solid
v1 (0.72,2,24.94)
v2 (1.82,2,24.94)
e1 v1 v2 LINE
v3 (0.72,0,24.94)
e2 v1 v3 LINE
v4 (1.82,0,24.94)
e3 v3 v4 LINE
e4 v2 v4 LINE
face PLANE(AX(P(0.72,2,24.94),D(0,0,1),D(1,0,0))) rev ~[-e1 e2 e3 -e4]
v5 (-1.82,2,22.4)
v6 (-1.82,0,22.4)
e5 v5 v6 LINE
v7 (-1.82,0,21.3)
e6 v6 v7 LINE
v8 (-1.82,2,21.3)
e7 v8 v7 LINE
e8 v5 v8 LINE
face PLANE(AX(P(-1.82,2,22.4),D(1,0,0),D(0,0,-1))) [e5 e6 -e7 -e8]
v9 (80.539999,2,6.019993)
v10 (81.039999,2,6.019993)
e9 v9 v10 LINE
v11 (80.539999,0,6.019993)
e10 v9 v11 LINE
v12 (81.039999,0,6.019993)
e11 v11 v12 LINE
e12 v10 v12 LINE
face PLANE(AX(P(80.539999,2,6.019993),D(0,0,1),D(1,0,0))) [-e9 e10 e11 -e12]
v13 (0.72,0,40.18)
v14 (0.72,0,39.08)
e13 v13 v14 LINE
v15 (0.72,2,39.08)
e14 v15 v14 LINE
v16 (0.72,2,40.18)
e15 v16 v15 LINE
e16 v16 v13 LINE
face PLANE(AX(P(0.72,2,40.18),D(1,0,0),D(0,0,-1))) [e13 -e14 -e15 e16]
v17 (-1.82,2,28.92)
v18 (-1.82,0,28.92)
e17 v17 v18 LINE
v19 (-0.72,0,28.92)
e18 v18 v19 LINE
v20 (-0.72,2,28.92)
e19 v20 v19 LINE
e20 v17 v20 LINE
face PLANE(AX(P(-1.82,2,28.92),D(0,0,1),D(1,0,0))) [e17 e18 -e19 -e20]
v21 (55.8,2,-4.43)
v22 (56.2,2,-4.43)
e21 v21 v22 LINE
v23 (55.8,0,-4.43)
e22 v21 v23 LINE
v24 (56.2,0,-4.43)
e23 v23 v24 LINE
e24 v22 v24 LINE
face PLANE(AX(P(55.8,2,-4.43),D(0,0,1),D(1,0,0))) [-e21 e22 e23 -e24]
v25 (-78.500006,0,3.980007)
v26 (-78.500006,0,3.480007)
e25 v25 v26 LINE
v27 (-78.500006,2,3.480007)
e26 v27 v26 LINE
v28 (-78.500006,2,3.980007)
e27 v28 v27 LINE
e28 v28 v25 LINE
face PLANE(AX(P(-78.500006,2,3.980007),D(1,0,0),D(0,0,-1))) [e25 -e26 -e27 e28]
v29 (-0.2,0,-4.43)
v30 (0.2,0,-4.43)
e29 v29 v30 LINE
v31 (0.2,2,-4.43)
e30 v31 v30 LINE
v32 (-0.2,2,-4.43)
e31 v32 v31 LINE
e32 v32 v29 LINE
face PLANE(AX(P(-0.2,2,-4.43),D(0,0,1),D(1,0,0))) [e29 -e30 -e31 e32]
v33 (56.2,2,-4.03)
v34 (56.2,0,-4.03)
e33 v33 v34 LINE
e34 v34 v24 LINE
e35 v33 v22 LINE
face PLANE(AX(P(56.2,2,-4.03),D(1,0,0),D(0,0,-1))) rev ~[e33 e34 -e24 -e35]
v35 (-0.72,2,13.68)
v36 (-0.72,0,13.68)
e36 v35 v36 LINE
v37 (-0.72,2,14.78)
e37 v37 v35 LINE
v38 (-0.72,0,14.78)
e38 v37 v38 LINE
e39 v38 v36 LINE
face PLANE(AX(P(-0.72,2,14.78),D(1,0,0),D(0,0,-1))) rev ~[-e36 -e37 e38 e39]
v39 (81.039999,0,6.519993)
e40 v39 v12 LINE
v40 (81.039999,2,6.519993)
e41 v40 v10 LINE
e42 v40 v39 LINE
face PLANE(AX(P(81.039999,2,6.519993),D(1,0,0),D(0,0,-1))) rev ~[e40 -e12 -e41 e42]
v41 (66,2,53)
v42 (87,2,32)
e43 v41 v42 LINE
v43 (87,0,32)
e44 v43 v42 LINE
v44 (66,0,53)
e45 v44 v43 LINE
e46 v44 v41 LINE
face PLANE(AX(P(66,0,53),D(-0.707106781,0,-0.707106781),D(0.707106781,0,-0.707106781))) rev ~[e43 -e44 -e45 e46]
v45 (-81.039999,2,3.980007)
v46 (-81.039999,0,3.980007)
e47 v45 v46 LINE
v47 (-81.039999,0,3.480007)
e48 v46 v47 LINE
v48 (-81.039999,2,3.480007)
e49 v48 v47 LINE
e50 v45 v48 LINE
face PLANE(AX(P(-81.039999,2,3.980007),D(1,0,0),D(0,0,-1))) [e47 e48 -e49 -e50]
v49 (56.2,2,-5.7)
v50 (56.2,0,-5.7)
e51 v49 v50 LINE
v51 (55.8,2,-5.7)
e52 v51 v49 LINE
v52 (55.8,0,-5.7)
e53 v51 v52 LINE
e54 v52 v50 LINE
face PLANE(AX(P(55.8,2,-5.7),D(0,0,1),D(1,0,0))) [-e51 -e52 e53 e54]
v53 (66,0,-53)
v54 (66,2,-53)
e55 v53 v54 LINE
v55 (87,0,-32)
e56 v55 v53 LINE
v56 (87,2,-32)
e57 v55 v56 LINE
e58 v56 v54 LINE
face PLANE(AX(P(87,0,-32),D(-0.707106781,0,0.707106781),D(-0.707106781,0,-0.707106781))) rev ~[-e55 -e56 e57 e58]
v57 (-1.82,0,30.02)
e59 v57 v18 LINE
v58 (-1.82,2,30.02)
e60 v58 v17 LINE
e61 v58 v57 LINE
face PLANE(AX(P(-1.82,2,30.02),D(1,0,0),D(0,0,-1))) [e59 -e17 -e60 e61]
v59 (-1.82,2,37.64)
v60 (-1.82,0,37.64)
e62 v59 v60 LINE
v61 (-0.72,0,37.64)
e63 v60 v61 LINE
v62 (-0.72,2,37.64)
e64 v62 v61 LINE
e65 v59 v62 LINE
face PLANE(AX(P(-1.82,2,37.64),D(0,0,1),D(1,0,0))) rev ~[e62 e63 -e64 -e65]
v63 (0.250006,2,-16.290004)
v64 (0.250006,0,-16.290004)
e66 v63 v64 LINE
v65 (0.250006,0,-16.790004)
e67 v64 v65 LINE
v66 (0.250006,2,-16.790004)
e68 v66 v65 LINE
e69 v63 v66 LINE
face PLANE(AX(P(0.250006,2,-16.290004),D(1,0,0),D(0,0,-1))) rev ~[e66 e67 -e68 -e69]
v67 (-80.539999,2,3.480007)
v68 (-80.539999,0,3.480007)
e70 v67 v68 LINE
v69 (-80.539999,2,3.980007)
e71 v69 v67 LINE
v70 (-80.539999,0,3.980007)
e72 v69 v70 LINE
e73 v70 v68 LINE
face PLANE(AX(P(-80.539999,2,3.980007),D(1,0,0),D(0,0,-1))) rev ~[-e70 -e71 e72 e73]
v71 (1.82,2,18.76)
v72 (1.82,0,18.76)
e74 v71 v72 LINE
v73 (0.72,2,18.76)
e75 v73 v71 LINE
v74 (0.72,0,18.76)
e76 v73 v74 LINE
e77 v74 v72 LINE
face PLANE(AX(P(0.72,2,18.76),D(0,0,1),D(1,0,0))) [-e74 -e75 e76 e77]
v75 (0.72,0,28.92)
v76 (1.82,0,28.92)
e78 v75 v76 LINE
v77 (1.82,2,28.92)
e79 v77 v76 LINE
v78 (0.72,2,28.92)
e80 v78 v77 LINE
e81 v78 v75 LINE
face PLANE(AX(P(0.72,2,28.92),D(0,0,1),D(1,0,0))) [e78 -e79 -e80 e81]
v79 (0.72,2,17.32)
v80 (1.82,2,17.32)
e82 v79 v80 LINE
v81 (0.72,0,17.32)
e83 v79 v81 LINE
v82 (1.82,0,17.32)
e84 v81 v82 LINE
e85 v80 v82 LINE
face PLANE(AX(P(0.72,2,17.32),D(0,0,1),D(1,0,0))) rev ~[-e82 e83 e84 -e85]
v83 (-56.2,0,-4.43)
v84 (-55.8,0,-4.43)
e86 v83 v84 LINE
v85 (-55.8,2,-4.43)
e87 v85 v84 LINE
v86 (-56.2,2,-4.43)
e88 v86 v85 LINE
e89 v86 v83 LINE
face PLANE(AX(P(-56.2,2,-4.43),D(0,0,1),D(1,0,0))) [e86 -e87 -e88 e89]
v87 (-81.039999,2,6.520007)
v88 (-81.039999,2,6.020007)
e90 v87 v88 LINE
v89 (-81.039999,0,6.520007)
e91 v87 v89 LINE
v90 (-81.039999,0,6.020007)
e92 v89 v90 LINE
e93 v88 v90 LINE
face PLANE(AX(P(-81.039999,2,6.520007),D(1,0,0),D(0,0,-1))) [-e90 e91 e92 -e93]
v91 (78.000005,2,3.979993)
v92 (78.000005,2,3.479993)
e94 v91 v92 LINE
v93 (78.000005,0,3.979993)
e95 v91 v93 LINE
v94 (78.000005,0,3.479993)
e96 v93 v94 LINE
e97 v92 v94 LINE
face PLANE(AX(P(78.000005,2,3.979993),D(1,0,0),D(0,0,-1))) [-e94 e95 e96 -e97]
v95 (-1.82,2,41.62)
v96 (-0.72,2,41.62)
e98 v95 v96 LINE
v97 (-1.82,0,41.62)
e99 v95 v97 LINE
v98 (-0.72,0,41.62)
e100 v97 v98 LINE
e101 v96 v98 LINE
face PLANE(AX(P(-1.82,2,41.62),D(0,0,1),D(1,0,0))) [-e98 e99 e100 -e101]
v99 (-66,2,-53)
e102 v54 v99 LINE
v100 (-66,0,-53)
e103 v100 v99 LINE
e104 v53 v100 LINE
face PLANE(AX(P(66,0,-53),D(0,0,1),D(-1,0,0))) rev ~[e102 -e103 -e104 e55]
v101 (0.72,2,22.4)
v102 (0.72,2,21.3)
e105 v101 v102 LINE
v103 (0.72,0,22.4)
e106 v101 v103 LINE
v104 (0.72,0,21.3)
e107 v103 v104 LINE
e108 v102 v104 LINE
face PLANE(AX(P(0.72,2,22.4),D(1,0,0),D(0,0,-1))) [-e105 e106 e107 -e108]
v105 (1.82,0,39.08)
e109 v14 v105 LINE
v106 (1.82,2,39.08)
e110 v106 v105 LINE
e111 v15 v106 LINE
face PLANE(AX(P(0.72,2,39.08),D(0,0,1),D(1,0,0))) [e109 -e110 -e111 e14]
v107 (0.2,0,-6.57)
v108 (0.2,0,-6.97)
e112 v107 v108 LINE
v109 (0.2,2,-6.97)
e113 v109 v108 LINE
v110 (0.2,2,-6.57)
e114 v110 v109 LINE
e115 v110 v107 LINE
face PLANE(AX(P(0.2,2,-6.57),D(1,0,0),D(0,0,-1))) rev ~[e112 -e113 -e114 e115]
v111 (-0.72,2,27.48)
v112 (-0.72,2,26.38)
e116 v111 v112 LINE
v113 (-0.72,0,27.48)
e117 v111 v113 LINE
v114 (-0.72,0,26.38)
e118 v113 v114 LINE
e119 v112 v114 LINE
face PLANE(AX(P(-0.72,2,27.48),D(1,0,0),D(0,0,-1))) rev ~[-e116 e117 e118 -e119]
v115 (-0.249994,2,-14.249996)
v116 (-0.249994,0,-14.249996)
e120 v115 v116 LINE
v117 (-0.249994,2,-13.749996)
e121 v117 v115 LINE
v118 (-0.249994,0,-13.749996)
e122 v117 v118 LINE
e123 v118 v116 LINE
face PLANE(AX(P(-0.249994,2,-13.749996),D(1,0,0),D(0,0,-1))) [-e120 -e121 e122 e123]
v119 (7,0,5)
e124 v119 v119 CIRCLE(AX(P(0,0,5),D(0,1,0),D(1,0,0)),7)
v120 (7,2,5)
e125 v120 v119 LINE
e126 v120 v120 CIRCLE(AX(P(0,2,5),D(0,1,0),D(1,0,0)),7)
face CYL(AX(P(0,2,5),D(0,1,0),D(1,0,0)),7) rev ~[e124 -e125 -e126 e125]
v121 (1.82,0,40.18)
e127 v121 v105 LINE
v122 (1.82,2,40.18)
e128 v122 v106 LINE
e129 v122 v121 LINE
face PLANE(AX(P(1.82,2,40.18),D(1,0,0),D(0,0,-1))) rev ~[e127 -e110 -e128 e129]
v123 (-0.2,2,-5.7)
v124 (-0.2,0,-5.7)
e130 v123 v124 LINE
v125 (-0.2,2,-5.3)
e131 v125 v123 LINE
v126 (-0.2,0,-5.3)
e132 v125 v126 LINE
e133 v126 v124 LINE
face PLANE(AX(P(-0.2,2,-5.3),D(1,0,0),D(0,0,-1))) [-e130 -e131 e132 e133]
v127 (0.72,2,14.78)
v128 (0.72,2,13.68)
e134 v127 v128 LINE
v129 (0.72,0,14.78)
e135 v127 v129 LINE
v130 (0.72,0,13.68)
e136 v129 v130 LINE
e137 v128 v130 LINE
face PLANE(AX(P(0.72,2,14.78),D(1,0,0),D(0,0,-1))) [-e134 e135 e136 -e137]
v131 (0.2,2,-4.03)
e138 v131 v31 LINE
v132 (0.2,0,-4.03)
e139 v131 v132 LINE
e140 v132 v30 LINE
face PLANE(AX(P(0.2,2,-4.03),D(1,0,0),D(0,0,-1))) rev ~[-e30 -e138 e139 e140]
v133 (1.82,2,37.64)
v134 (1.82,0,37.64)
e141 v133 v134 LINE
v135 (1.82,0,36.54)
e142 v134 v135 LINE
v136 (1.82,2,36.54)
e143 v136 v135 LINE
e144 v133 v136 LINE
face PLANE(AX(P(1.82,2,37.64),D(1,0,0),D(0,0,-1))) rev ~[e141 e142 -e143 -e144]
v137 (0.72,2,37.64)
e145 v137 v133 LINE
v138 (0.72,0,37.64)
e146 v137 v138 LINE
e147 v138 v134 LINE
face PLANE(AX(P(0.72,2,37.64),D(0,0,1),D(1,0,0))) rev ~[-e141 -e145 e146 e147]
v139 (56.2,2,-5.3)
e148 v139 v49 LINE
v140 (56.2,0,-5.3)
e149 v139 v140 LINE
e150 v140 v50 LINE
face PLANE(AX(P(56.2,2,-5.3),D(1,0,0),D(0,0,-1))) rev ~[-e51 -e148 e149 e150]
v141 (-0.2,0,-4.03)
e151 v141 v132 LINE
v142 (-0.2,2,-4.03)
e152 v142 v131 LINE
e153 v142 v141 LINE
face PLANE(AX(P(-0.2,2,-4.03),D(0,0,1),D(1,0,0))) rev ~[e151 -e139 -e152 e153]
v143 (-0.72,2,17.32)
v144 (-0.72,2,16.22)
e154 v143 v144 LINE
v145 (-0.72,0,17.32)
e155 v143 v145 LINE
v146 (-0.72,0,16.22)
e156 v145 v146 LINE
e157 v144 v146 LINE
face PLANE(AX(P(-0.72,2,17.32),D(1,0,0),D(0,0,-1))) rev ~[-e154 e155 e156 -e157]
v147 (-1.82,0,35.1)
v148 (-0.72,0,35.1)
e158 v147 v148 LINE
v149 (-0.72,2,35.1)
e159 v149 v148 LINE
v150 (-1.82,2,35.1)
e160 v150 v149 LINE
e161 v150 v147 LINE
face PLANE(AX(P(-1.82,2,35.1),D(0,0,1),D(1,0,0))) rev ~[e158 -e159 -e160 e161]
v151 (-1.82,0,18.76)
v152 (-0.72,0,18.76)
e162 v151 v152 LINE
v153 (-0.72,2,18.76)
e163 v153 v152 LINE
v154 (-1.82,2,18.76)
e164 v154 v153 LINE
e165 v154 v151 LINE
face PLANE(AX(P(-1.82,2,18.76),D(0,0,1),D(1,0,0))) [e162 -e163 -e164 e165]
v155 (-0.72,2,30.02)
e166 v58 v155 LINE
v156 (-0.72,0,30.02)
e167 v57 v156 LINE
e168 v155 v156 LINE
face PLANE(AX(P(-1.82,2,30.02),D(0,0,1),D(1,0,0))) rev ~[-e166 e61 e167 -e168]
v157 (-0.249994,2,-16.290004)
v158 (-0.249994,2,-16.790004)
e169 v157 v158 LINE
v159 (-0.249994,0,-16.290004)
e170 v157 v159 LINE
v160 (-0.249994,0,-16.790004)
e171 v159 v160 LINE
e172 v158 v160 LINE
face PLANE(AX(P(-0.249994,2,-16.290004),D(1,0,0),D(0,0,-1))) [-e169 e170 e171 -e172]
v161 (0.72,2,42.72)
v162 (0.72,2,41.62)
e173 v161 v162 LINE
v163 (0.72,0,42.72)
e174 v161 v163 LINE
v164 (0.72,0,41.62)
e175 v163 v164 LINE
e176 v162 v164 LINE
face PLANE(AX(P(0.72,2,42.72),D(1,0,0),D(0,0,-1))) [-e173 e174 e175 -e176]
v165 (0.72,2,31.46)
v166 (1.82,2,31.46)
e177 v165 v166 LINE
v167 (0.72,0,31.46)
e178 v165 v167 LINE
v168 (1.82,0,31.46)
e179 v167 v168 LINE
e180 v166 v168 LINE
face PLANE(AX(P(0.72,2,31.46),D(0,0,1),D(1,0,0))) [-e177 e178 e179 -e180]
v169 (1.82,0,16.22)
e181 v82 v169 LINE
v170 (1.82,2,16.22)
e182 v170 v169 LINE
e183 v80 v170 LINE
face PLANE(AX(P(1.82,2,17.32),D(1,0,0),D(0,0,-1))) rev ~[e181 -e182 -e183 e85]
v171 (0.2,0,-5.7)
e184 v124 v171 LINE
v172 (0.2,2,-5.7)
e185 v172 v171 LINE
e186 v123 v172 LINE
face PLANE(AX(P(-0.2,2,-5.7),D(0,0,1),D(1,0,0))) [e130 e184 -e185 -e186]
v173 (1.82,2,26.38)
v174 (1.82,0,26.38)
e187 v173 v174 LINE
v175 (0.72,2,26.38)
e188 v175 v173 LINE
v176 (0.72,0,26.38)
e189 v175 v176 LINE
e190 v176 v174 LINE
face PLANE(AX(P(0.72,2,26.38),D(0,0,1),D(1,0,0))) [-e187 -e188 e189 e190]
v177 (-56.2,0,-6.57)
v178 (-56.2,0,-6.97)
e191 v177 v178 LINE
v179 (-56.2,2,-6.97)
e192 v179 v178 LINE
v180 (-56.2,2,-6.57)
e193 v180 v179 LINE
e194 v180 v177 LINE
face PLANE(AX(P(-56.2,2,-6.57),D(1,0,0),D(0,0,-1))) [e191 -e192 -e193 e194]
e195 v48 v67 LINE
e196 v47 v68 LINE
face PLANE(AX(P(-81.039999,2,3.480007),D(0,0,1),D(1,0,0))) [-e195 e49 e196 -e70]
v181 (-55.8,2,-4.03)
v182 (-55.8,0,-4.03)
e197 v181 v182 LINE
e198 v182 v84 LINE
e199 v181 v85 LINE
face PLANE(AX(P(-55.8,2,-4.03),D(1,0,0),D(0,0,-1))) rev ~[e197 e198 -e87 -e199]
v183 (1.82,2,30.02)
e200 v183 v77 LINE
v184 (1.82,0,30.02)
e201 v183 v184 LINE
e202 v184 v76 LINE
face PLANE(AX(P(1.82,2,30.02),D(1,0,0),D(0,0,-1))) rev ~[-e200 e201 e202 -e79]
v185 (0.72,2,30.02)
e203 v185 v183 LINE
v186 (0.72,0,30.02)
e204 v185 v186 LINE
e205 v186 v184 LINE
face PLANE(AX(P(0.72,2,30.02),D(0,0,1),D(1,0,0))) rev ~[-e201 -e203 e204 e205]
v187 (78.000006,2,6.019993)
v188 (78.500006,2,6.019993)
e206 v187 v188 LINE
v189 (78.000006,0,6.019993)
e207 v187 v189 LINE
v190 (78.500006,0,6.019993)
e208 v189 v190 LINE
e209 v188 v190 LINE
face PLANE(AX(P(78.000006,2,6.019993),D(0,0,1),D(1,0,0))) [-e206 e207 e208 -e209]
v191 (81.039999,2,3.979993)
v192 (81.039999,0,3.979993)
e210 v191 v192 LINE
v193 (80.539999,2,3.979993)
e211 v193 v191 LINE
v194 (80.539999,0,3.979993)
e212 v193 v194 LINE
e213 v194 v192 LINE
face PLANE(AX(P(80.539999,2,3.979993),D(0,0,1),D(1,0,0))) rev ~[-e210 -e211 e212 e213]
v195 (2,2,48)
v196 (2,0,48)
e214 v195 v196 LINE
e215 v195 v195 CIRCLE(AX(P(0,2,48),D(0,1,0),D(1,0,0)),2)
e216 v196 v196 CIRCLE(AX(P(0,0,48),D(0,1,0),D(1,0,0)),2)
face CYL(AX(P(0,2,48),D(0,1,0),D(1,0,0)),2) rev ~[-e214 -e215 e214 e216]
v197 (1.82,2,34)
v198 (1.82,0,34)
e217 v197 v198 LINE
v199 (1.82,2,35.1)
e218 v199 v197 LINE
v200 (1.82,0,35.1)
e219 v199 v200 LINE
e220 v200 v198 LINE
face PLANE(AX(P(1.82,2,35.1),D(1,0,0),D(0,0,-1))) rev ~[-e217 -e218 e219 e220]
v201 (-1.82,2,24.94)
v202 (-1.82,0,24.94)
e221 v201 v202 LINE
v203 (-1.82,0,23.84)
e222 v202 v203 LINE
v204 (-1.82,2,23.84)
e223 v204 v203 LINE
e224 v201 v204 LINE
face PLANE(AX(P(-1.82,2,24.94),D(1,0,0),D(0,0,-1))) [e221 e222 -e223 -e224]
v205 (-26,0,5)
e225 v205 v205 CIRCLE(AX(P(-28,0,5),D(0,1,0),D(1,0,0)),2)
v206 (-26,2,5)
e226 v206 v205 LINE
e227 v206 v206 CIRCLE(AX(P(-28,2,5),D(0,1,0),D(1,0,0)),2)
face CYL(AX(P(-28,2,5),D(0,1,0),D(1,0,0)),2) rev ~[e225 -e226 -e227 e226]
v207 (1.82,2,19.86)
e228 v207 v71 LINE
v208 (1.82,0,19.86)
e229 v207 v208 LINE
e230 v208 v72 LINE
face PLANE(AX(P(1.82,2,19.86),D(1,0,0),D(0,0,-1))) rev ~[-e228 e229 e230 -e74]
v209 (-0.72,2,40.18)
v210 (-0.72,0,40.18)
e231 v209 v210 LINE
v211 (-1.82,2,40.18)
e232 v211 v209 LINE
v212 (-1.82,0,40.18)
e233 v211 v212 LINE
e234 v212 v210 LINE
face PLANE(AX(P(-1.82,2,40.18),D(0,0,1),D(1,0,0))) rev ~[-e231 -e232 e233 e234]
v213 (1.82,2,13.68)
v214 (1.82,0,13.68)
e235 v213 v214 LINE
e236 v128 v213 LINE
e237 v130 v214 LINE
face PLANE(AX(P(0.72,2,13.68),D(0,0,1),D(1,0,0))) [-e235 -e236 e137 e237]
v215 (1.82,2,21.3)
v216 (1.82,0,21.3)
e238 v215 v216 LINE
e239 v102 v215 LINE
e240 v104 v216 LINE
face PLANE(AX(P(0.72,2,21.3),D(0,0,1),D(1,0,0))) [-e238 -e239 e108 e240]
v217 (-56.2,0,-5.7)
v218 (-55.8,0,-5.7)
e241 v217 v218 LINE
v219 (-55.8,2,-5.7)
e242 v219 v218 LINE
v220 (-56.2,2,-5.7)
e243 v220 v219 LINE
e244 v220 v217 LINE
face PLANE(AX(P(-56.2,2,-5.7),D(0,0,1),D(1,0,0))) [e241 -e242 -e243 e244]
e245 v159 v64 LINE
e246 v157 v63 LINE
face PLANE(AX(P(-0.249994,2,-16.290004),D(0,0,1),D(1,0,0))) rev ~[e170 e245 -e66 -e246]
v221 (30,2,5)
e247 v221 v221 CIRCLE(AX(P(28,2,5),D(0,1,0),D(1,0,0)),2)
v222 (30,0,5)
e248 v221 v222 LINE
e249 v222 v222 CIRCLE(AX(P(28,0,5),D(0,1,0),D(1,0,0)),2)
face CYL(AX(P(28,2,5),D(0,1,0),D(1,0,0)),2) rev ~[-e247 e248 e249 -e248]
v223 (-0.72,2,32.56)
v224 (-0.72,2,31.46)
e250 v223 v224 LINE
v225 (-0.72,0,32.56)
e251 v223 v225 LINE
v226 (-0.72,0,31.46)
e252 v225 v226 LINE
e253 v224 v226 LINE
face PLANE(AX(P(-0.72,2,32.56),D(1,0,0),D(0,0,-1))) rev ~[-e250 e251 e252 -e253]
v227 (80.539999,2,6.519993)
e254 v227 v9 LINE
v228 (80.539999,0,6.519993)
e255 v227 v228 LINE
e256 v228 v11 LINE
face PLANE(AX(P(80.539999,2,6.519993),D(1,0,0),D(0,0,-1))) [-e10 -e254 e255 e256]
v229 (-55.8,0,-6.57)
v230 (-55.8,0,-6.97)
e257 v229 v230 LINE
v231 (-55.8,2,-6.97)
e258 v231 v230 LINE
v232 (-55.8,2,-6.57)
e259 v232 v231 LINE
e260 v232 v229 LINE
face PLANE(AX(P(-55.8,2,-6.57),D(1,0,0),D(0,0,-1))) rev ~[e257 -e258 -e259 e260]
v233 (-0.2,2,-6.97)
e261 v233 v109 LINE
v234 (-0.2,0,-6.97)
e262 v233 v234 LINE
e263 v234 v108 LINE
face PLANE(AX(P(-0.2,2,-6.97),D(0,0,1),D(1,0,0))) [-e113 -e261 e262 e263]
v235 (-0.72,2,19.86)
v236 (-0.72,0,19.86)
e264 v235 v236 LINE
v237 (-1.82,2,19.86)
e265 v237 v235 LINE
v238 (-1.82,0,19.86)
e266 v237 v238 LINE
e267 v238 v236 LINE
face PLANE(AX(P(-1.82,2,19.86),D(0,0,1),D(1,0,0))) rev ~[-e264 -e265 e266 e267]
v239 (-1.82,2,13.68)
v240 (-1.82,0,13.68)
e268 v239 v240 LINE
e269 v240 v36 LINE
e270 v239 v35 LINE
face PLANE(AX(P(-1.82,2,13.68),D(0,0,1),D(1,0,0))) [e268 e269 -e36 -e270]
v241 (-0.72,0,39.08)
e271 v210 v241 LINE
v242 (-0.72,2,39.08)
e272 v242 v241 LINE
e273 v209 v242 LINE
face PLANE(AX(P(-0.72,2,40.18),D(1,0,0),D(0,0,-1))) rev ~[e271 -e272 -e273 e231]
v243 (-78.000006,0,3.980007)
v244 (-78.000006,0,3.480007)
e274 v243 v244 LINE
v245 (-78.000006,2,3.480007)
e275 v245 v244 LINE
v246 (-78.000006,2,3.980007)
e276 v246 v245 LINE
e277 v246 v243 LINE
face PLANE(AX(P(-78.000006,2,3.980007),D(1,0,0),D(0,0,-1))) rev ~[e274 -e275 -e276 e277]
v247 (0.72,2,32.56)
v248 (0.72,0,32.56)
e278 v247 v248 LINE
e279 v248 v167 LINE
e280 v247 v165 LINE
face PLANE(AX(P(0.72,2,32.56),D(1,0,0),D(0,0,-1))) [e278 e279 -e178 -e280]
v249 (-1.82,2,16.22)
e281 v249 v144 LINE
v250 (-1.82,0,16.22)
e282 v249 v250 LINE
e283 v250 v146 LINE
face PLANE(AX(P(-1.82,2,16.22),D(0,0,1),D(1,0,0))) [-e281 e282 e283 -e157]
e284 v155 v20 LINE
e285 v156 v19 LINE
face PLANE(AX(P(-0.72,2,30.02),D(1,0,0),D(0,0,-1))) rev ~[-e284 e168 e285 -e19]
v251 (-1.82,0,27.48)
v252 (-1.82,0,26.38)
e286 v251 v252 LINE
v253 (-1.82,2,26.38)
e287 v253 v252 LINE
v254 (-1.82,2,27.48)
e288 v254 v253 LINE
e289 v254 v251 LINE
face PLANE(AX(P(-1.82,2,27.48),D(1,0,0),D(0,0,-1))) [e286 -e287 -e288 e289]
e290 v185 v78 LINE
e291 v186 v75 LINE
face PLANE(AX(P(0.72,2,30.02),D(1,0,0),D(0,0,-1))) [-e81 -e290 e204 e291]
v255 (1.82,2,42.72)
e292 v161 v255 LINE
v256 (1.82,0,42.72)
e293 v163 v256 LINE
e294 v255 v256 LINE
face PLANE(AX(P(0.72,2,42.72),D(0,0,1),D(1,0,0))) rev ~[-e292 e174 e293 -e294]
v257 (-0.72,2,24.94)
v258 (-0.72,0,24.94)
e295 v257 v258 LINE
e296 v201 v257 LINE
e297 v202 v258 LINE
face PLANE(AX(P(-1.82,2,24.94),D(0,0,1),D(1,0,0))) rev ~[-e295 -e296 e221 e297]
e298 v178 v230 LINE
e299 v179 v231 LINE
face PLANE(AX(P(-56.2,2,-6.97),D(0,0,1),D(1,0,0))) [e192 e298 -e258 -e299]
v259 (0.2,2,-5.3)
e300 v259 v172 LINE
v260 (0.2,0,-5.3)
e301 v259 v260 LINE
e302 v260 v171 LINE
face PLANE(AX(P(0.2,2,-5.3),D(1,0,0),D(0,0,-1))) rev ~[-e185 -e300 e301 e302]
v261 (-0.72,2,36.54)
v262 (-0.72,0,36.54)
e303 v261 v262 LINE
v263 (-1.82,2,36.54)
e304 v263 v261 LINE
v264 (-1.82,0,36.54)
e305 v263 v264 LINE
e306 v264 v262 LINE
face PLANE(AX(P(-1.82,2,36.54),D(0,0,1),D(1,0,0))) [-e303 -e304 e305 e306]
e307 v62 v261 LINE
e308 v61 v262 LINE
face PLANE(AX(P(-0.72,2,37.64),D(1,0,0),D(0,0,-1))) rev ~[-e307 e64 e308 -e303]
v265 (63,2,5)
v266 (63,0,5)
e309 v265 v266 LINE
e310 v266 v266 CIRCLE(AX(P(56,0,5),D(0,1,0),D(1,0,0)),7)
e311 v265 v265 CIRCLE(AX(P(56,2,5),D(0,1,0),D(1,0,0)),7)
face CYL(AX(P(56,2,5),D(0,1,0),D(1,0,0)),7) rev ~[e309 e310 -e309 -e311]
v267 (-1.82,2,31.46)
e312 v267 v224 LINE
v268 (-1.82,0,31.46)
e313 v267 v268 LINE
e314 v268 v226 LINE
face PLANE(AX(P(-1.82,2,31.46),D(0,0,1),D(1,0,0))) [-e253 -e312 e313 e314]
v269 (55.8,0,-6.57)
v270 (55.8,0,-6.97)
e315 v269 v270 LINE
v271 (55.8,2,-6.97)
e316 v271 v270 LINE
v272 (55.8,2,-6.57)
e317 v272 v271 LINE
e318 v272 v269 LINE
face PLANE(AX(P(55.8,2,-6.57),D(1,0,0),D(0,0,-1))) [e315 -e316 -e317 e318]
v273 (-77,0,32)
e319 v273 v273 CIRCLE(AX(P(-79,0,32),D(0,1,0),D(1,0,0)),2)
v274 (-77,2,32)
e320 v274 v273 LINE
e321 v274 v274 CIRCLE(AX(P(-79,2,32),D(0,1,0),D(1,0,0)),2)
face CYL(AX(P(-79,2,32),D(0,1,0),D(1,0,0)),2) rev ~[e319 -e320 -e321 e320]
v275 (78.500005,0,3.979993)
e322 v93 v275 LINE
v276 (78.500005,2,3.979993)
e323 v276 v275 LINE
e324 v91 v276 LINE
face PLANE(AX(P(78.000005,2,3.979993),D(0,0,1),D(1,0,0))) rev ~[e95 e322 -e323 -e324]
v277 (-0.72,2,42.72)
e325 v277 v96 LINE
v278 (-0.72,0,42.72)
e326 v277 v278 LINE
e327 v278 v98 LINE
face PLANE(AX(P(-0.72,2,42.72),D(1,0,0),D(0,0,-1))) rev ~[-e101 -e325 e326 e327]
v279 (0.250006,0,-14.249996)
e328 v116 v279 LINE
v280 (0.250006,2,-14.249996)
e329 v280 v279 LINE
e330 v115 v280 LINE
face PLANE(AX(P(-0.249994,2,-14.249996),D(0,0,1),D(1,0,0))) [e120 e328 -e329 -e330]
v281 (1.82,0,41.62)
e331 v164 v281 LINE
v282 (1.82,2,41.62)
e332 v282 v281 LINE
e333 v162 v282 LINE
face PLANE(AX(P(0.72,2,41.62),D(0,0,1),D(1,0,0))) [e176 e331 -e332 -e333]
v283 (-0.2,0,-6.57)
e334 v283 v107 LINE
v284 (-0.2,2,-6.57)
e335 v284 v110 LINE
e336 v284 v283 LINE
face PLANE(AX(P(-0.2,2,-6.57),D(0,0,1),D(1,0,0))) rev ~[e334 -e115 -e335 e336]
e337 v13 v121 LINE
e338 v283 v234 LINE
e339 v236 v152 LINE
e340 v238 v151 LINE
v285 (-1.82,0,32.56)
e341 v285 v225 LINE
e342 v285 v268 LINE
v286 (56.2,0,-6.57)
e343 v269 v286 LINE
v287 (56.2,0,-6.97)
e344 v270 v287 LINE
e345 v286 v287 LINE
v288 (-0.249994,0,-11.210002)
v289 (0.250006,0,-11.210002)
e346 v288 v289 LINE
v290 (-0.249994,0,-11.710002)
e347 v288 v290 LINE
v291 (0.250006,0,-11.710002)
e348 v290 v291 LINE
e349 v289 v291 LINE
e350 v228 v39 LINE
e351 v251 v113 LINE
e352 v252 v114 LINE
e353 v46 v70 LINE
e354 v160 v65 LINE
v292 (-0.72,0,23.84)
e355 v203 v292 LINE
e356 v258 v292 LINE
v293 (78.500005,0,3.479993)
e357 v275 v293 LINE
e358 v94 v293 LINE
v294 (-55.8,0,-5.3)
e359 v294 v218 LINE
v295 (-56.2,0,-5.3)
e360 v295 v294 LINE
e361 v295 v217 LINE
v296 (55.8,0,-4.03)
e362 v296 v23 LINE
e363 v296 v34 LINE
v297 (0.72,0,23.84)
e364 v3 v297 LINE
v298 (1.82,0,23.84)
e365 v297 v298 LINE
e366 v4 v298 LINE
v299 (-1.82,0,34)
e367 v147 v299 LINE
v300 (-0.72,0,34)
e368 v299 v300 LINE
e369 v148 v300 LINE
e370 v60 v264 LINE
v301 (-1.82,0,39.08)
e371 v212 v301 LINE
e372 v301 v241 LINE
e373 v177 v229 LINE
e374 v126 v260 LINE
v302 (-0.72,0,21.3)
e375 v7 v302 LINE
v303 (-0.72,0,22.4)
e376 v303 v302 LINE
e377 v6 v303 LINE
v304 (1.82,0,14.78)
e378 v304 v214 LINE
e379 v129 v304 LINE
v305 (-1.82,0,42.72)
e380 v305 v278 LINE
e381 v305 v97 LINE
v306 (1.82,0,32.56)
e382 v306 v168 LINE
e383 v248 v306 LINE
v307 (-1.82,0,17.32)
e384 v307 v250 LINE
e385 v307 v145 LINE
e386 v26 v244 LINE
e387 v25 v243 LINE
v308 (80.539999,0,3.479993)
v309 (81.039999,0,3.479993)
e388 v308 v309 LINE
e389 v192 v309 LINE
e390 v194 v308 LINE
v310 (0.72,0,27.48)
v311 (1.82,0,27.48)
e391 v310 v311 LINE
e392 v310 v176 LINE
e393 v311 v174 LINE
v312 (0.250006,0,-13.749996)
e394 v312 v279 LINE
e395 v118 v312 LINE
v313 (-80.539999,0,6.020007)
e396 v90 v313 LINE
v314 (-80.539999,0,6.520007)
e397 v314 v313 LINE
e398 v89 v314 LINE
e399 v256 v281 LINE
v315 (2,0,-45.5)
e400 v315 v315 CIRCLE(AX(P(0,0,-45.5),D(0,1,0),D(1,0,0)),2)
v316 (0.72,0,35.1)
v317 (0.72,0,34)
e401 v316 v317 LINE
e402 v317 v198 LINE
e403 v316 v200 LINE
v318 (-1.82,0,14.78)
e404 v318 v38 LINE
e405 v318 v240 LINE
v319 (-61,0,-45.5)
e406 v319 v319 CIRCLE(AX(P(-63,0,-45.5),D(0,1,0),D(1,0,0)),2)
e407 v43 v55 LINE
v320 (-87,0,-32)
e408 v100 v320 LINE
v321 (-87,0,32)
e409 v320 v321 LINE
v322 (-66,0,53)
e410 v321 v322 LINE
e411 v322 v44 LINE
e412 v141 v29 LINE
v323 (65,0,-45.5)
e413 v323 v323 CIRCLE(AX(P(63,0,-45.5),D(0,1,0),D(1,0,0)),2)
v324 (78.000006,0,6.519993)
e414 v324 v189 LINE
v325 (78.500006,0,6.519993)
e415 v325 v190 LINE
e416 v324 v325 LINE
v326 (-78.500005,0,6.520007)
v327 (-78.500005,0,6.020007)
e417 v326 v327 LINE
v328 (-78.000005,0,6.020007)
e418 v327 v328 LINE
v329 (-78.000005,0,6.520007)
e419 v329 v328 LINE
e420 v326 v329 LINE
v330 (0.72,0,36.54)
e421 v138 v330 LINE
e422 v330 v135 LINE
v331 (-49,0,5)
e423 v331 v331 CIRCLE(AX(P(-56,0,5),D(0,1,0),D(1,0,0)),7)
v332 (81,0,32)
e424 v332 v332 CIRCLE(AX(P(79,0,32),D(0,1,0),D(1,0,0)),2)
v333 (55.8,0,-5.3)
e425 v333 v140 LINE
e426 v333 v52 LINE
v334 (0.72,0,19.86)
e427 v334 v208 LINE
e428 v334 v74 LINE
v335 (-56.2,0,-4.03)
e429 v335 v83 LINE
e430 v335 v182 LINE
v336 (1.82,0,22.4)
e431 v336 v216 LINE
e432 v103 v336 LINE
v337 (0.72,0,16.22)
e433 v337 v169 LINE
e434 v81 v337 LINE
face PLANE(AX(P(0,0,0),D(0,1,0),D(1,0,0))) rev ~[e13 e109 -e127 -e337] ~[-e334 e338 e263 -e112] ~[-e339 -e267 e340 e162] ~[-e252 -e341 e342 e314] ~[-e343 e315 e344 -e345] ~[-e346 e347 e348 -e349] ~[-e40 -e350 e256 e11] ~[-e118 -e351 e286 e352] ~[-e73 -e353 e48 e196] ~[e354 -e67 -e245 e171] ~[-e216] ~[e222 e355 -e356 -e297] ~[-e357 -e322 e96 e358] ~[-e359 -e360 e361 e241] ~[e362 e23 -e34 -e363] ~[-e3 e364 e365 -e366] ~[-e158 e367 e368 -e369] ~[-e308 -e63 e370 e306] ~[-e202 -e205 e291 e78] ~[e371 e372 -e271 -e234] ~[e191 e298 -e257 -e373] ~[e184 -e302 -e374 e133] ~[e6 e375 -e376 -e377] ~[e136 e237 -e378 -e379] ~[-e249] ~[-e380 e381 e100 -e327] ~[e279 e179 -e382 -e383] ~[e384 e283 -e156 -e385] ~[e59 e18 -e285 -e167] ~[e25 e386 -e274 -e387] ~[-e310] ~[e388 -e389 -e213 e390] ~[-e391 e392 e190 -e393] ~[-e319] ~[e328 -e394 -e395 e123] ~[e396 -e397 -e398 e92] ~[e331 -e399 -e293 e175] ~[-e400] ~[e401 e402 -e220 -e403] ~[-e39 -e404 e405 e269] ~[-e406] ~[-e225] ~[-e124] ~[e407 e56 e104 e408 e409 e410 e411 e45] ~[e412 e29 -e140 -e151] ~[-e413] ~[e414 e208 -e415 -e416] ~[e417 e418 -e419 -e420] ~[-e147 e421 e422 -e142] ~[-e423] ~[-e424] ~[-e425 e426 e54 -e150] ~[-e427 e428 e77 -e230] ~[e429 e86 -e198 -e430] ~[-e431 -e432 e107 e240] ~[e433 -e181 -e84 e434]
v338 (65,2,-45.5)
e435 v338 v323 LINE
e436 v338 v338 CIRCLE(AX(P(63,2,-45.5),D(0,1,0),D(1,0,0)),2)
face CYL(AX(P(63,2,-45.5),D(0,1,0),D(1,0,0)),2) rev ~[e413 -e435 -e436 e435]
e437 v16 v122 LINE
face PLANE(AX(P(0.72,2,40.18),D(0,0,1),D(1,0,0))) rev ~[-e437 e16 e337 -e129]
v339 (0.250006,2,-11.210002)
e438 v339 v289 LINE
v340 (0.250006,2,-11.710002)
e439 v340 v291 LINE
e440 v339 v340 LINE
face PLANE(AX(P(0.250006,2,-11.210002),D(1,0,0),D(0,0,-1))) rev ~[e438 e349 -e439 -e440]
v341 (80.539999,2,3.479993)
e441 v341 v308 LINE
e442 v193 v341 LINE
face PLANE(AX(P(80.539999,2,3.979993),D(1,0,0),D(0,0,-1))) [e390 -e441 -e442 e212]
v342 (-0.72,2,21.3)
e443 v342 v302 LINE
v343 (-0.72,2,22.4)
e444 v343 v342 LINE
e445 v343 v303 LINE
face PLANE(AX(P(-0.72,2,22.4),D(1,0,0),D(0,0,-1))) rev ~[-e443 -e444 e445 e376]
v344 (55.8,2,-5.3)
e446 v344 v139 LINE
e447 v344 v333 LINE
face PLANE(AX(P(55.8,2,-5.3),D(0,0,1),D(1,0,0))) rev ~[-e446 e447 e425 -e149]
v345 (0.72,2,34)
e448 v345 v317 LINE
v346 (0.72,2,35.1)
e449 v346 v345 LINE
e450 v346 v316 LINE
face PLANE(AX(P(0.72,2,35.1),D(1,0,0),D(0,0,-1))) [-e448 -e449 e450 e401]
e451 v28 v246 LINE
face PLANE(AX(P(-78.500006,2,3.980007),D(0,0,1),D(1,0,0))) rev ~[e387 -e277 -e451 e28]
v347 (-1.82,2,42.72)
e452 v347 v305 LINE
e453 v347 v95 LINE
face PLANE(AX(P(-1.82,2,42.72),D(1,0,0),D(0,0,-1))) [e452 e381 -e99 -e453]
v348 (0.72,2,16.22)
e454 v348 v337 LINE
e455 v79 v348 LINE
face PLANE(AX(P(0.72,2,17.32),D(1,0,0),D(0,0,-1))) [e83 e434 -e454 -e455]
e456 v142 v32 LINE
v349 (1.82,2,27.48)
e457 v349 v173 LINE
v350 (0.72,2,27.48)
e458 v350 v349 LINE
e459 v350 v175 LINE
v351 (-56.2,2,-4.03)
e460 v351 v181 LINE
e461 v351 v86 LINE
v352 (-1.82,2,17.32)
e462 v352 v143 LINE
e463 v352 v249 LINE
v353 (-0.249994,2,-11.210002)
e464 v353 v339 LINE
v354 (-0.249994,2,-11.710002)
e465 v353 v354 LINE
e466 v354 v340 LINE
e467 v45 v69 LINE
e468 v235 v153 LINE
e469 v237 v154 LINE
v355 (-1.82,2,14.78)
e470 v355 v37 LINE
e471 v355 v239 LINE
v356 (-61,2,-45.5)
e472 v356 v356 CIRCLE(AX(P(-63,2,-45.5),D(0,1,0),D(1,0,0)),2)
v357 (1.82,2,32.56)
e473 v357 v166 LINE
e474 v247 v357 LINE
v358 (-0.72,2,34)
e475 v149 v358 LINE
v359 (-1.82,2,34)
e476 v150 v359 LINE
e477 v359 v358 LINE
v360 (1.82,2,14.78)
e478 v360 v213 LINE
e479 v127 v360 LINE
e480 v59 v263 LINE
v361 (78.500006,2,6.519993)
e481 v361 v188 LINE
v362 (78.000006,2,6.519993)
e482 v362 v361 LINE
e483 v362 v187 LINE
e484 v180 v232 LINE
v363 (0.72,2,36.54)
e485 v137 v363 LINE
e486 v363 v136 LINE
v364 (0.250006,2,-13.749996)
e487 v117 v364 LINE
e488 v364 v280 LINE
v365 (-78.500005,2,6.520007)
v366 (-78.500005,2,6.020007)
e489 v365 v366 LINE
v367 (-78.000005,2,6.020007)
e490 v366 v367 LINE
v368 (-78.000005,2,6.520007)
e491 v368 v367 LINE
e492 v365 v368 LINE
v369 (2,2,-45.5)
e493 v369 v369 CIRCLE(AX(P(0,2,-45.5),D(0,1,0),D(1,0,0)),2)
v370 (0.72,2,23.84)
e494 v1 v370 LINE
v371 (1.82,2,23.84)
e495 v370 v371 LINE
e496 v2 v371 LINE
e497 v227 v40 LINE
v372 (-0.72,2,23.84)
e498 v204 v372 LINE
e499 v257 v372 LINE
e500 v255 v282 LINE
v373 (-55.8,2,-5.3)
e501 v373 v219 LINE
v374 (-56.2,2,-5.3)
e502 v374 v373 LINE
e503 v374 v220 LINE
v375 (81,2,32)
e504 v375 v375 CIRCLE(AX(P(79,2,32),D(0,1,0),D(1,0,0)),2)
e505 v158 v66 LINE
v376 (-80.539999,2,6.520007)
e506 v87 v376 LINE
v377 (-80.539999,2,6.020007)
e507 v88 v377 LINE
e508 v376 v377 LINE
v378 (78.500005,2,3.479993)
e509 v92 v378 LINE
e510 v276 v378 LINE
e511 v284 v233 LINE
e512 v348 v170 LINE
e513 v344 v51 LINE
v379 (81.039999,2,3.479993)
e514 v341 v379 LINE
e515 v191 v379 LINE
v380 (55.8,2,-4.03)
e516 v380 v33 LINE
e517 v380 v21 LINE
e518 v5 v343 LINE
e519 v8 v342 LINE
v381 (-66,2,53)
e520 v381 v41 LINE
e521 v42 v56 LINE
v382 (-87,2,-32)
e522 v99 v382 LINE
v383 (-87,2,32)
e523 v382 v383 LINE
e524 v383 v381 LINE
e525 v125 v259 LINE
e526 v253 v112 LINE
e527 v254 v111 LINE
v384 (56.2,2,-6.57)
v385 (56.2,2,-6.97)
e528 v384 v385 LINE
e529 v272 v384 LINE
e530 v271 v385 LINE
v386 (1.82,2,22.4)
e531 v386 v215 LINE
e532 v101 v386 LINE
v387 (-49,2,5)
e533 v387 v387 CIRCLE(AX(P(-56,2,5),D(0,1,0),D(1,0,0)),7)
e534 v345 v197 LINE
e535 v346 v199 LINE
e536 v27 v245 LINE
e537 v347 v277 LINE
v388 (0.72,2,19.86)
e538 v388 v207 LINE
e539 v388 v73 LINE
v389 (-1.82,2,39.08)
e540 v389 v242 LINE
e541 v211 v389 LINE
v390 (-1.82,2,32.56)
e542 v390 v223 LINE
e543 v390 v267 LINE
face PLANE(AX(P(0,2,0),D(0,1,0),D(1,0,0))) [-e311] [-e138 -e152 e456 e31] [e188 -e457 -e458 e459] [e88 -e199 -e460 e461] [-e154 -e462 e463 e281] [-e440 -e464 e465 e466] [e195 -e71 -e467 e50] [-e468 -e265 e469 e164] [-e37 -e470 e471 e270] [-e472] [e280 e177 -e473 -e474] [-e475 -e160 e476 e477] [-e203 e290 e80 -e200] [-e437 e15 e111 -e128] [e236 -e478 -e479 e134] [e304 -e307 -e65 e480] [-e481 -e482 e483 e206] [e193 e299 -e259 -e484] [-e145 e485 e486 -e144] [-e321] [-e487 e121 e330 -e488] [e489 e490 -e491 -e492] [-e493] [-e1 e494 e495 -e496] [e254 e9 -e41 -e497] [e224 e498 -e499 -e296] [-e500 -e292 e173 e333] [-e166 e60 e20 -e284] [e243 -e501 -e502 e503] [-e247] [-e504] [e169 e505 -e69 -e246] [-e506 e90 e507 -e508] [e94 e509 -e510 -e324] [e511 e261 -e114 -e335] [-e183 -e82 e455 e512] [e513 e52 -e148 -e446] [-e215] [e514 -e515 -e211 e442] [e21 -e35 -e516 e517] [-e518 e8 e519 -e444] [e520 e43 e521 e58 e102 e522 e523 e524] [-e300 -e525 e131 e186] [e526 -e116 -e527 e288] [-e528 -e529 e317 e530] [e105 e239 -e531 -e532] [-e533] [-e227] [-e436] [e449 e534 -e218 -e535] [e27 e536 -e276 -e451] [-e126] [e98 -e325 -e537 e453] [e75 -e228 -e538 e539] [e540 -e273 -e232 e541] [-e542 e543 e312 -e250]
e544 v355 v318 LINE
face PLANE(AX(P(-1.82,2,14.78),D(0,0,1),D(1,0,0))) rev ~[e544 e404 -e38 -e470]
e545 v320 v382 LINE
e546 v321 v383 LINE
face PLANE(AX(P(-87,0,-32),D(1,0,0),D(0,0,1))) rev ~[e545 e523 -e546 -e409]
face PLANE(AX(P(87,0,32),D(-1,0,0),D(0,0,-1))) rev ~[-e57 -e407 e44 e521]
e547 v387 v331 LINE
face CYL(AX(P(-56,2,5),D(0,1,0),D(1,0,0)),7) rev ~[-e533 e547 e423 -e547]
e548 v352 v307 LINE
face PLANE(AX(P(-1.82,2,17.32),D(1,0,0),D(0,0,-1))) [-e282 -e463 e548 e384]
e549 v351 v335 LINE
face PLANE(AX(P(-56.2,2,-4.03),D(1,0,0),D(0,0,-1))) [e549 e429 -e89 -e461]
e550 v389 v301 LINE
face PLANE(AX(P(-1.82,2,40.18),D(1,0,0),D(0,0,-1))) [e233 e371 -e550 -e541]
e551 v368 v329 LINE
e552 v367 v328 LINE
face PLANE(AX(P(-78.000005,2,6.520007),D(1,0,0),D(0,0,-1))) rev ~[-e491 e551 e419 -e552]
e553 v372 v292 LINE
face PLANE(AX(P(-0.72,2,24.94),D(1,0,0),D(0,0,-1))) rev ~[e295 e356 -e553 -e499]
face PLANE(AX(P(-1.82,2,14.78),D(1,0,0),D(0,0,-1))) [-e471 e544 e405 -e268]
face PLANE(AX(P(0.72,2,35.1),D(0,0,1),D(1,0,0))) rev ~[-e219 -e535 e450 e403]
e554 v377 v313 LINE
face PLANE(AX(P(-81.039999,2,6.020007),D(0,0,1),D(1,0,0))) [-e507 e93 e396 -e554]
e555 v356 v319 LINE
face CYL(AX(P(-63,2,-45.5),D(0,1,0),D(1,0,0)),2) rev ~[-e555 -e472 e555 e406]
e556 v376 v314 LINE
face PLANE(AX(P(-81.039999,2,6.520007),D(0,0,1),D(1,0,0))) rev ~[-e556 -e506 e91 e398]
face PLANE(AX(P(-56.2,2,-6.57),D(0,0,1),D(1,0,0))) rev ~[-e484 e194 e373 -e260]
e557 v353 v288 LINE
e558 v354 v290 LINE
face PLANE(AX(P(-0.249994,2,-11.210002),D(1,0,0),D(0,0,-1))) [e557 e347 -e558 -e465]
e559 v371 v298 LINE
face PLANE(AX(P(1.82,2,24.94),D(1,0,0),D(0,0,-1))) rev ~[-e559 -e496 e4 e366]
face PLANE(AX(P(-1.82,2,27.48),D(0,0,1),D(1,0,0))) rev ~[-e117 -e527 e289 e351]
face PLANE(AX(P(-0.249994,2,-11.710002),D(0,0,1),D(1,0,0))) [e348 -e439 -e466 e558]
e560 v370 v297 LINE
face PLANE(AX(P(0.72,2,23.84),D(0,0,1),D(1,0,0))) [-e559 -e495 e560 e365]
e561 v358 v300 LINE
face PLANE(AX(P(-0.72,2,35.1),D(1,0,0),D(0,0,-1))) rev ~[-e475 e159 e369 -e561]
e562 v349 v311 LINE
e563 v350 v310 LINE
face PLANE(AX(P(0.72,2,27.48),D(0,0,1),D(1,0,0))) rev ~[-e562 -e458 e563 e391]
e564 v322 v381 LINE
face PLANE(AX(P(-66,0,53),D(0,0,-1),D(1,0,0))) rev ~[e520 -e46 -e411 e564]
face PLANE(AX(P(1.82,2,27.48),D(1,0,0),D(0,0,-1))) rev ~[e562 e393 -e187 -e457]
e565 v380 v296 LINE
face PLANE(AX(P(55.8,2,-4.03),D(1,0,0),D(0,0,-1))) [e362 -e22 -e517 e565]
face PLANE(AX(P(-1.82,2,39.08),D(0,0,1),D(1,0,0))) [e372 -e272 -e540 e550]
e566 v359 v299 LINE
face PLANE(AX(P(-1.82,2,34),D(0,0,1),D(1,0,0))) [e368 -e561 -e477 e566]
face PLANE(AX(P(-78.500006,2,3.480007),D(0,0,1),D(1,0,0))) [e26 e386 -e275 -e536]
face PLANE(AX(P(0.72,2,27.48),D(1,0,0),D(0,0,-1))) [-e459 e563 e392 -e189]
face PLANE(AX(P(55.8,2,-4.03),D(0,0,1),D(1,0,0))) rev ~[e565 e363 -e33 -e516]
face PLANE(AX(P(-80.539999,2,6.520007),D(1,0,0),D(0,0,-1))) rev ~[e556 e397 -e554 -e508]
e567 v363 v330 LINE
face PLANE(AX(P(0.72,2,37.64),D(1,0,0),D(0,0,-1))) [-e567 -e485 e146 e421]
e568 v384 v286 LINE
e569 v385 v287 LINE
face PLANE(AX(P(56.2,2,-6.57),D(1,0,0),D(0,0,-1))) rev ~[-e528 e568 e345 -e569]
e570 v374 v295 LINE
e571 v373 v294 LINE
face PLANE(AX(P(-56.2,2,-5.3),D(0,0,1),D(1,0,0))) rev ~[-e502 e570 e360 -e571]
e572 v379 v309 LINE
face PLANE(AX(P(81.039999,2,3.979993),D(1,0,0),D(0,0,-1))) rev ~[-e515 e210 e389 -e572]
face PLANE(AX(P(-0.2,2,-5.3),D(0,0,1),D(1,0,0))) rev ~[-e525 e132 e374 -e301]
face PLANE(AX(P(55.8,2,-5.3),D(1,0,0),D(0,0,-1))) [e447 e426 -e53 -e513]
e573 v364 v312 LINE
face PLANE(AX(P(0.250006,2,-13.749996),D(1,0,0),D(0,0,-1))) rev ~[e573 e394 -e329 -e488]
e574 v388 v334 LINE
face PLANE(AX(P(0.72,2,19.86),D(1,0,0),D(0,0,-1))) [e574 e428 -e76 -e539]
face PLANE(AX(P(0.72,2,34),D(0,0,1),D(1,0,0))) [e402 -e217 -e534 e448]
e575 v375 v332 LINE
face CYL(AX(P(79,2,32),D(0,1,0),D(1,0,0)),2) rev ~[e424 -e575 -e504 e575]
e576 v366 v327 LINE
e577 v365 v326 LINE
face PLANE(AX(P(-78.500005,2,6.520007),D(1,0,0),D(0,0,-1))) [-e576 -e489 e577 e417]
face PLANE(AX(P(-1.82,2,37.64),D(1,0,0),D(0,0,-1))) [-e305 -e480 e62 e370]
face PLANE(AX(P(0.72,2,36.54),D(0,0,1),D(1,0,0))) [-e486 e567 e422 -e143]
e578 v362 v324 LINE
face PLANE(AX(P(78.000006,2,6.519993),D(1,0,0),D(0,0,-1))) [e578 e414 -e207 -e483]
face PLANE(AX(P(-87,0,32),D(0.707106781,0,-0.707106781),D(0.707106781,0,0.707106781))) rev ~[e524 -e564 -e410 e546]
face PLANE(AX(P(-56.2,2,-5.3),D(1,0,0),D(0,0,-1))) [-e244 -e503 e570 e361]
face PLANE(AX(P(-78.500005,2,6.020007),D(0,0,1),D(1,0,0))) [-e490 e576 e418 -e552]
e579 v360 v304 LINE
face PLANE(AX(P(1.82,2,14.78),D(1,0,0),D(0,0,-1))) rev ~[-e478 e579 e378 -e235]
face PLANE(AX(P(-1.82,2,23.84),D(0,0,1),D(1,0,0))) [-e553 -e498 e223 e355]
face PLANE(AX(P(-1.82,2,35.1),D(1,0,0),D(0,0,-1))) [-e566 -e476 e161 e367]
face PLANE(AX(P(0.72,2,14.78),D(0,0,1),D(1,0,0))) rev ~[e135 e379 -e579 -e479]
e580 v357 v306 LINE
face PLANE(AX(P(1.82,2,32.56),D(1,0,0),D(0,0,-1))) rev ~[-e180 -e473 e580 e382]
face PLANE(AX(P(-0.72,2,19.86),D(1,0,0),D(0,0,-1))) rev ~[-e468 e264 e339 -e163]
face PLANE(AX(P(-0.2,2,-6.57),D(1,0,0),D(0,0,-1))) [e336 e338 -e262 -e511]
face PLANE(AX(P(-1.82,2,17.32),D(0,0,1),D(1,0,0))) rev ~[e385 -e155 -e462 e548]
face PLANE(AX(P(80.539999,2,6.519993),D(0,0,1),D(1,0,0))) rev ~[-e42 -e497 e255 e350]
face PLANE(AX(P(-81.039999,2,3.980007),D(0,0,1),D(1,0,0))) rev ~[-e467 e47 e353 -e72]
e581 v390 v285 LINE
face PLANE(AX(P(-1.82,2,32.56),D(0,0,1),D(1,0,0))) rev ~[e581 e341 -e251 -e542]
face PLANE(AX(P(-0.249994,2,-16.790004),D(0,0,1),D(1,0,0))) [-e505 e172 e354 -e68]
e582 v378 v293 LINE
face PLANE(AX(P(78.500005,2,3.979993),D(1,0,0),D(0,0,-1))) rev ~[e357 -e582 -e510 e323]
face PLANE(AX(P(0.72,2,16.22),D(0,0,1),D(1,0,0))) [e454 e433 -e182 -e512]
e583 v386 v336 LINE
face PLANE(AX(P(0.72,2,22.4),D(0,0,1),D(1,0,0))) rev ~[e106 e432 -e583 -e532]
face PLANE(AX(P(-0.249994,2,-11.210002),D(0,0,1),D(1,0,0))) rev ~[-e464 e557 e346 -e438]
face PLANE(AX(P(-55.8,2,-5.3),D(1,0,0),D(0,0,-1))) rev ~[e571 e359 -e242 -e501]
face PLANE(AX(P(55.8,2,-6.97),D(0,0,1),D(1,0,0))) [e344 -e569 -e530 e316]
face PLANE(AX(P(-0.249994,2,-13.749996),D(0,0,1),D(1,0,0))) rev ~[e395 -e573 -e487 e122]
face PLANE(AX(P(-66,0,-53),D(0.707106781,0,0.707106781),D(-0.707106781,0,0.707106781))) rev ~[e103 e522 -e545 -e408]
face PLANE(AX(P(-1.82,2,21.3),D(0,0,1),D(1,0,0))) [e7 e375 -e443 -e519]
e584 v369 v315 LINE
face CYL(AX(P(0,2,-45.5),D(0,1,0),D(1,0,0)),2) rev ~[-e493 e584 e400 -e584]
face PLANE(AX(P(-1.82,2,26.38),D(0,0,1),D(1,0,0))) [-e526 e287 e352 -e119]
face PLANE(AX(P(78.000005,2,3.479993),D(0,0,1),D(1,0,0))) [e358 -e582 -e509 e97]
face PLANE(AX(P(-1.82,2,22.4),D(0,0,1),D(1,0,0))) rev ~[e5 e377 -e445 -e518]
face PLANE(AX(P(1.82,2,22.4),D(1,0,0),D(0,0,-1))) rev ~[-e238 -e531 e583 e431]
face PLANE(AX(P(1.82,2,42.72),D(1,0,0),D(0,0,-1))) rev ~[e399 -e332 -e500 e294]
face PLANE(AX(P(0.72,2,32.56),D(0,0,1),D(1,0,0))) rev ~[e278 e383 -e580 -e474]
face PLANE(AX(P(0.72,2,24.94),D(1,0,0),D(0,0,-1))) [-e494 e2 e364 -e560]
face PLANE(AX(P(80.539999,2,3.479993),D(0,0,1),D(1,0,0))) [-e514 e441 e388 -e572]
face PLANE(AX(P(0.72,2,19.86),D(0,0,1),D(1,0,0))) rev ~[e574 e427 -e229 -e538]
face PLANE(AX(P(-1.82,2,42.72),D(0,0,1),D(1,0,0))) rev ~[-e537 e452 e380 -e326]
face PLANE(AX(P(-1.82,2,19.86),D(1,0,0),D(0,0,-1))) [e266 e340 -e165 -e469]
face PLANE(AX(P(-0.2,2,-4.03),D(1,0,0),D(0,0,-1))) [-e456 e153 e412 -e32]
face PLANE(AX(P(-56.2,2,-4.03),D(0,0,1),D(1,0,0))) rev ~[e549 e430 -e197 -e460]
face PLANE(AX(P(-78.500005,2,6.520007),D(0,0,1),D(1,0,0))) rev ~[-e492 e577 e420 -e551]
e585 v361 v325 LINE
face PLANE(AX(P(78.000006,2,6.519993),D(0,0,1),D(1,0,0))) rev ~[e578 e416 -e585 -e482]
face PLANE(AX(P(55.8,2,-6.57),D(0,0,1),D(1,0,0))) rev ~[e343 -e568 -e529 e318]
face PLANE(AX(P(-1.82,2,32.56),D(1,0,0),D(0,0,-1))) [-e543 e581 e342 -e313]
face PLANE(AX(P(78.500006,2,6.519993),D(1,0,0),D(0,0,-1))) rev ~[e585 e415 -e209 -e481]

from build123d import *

# Parameters (mm, degrees)
EXTRUDE_1_DEPTH     = 2
SKETCH_7_R          = 7
CUT_EXTRUDE_3_DEPTH = 3
SKETCH_2_R          = 2
CUT_EXTRUDE_4_DEPTH = 3
SKETCH_8_W          = 1.1
SKETCH_8_H          = 1.1
CUT_EXTRUDE_5_DEPTH = 10
SKETCH_9_W          = 0.5
SKETCH_9_H          = 0.5
SKETCH_9_W_2        = 0.4
SKETCH_9_H_2        = 0.4
CUT_EXTRUDE_6_DEPTH = 10


with BuildPart() as part:
    # 草图1 → 凸台-拉伸1 (new body)
    with BuildSketch(Plane(origin=(0, 0, 0), x_dir=(1, 0, 0), z_dir=(0, 1, 0))):
        Polygon((-66, 53), (-87, 32), (-87, -32), (-66, -53), (66, -53), (87, -32), (87, 32), (66, 53), align=None)
    extrude(amount=EXTRUDE_1_DEPTH)

    # 草图7 → 切除-拉伸3 (cut, through all)
    with BuildSketch(Plane(origin=(0, 2, 0), x_dir=(1, 0, 0), z_dir=(0, 1, 0))):
        with Locations((-56, -5)):
            Circle(SKETCH_7_R)
        with Locations((0, -5)):
            Circle(SKETCH_7_R)
        with Locations((56, -5)):
            Circle(SKETCH_7_R)
    extrude(amount=-CUT_EXTRUDE_3_DEPTH, mode=Mode.SUBTRACT)

    # 草图2 → 切除-拉伸4 (cut, through all)
    with BuildSketch(Plane(origin=(0, 2, 0), x_dir=(1, 0, 0), z_dir=(0, 1, 0))):
        with Locations((-63, 45.5)):
            Circle(SKETCH_2_R)
        with Locations((0, 45.5)):
            Circle(SKETCH_2_R)
        with Locations((63, 45.5)):
            Circle(SKETCH_2_R)
        with Locations((28, -5)):
            Circle(SKETCH_2_R)
        with Locations((-28, -5)):
            Circle(SKETCH_2_R)
        with Locations((-79, -32)):
            Circle(SKETCH_2_R)
        with Locations((0, -48)):
            Circle(SKETCH_2_R)
        with Locations((79, -32)):
            Circle(SKETCH_2_R)
    extrude(amount=-CUT_EXTRUDE_4_DEPTH, mode=Mode.SUBTRACT)

    # 草图8 → 切除-拉伸5 (cut)
    with BuildSketch(Plane(origin=(0, 2, 0), x_dir=(1, 0, 0), z_dir=(0, 1, 0))):
        with Locations((-1.27, -32.01)):
            Rectangle(SKETCH_8_W, SKETCH_8_H)
        with Locations((-1.27, -34.55)):
            Rectangle(SKETCH_8_W, SKETCH_8_H)
        with Locations((-1.27, -37.09)):
            Rectangle(SKETCH_8_W, SKETCH_8_H)
        with Locations((-1.27, -39.63)):
            Rectangle(SKETCH_8_W, SKETCH_8_H)
        with Locations((1.27, -14.23)):
            Rectangle(SKETCH_8_W, SKETCH_8_H)
        with Locations((1.27, -16.77)):
            Rectangle(SKETCH_8_W, SKETCH_8_H)
        with Locations((1.27, -19.31)):
            Rectangle(SKETCH_8_W, SKETCH_8_H)
        with Locations((1.27, -21.85)):
            Rectangle(SKETCH_8_W, SKETCH_8_H)
        with Locations((1.27, -24.39)):
            Rectangle(SKETCH_8_W, SKETCH_8_H)
        with Locations((1.27, -26.93)):
            Rectangle(SKETCH_8_W, SKETCH_8_H)
        with Locations((1.27, -29.47)):
            Rectangle(SKETCH_8_W, SKETCH_8_H)
        with Locations((1.27, -32.01)):
            Rectangle(SKETCH_8_W, SKETCH_8_H)
        with Locations((1.27, -34.55)):
            Rectangle(SKETCH_8_W, SKETCH_8_H)
        with Locations((1.27, -37.09)):
            Rectangle(SKETCH_8_W, SKETCH_8_H)
        with Locations((1.27, -39.63)):
            Rectangle(SKETCH_8_W, SKETCH_8_H)
        with Locations((1.27, -42.17)):
            Rectangle(SKETCH_8_W, SKETCH_8_H)
        with Locations((-1.27, -29.47)):
            Rectangle(SKETCH_8_W, SKETCH_8_H)
        with Locations((-1.27, -26.93)):
            Rectangle(SKETCH_8_W, SKETCH_8_H)
        with Locations((-1.27, -24.39)):
            Rectangle(SKETCH_8_W, SKETCH_8_H)
        with Locations((-1.27, -21.85)):
            Rectangle(SKETCH_8_W, SKETCH_8_H)
        with Locations((-1.27, -19.31)):
            Rectangle(SKETCH_8_W, SKETCH_8_H)
        with Locations((-1.27, -16.77)):
            Rectangle(SKETCH_8_W, SKETCH_8_H)
        with Locations((-1.27, -14.23)):
            Rectangle(SKETCH_8_W, SKETCH_8_H)
        with Locations((-1.27, -42.17)):
            Rectangle(SKETCH_8_W, SKETCH_8_H)
    extrude(amount=-CUT_EXTRUDE_5_DEPTH, mode=Mode.SUBTRACT)

    # 草图9 → 切除-拉伸6 (cut)
    with BuildSketch(Plane(origin=(0, 2, 0), x_dir=(1, 0, 0), z_dir=(0, 1, 0))):
        with Locations((80.789998711, -3.729993265)):
            Rectangle(SKETCH_9_W, SKETCH_9_H)
        with Locations((78.250005425, -3.729993265)):
            Rectangle(SKETCH_9_W, SKETCH_9_H)
        with Locations((78.250005647, -6.269993265)):
            Rectangle(SKETCH_9_W, SKETCH_9_H)
        with Locations((80.789998933, -6.269993265)):
            Rectangle(SKETCH_9_W, SKETCH_9_H)
        with Locations((5.668e-06, 16.540004272)):
            Rectangle(SKETCH_9_W, SKETCH_9_H)
        with Locations((5.668e-06, 13.999995727)):
            Rectangle(SKETCH_9_W, SKETCH_9_H)
        with Locations((5.668e-06, 11.460002441)):
            Rectangle(SKETCH_9_W, SKETCH_9_H)
        with Locations((-80.789998889, -3.730006779)):
            Rectangle(SKETCH_9_W, SKETCH_9_H)
        with Locations((-78.250005603, -3.730006779)):
            Rectangle(SKETCH_9_W, SKETCH_9_H)
        with Locations((-80.789998667, -6.270006779)):
            Rectangle(SKETCH_9_W, SKETCH_9_H)
        with Locations((-78.250005381, -6.270006779)):
            Rectangle(SKETCH_9_W, SKETCH_9_H)
        with Locations((56, 6.77)):
            Rectangle(SKETCH_9_W_2, SKETCH_9_H_2)
        with Locations((56, 5.5)):
            Rectangle(SKETCH_9_W_2, SKETCH_9_H_2)
        with Locations((56, 4.23)):
            Rectangle(SKETCH_9_W_2, SKETCH_9_H_2)
        with Locations((0, 6.77)):
            Rectangle(SKETCH_9_W_2, SKETCH_9_H_2)
        with Locations((0, 5.5)):
            Rectangle(SKETCH_9_W_2, SKETCH_9_H_2)
        with Locations((0, 4.23)):
            Rectangle(SKETCH_9_W_2, SKETCH_9_H_2)
        with Locations((-56, 6.77)):
            Rectangle(SKETCH_9_W_2, SKETCH_9_H_2)
        with Locations((-56, 5.5)):
            Rectangle(SKETCH_9_W_2, SKETCH_9_H_2)
        with Locations((-56, 4.23)):
            Rectangle(SKETCH_9_W_2, SKETCH_9_H_2)
    extrude(amount=-CUT_EXTRUDE_6_DEPTH, mode=Mode.SUBTRACT)


solid = part.part
